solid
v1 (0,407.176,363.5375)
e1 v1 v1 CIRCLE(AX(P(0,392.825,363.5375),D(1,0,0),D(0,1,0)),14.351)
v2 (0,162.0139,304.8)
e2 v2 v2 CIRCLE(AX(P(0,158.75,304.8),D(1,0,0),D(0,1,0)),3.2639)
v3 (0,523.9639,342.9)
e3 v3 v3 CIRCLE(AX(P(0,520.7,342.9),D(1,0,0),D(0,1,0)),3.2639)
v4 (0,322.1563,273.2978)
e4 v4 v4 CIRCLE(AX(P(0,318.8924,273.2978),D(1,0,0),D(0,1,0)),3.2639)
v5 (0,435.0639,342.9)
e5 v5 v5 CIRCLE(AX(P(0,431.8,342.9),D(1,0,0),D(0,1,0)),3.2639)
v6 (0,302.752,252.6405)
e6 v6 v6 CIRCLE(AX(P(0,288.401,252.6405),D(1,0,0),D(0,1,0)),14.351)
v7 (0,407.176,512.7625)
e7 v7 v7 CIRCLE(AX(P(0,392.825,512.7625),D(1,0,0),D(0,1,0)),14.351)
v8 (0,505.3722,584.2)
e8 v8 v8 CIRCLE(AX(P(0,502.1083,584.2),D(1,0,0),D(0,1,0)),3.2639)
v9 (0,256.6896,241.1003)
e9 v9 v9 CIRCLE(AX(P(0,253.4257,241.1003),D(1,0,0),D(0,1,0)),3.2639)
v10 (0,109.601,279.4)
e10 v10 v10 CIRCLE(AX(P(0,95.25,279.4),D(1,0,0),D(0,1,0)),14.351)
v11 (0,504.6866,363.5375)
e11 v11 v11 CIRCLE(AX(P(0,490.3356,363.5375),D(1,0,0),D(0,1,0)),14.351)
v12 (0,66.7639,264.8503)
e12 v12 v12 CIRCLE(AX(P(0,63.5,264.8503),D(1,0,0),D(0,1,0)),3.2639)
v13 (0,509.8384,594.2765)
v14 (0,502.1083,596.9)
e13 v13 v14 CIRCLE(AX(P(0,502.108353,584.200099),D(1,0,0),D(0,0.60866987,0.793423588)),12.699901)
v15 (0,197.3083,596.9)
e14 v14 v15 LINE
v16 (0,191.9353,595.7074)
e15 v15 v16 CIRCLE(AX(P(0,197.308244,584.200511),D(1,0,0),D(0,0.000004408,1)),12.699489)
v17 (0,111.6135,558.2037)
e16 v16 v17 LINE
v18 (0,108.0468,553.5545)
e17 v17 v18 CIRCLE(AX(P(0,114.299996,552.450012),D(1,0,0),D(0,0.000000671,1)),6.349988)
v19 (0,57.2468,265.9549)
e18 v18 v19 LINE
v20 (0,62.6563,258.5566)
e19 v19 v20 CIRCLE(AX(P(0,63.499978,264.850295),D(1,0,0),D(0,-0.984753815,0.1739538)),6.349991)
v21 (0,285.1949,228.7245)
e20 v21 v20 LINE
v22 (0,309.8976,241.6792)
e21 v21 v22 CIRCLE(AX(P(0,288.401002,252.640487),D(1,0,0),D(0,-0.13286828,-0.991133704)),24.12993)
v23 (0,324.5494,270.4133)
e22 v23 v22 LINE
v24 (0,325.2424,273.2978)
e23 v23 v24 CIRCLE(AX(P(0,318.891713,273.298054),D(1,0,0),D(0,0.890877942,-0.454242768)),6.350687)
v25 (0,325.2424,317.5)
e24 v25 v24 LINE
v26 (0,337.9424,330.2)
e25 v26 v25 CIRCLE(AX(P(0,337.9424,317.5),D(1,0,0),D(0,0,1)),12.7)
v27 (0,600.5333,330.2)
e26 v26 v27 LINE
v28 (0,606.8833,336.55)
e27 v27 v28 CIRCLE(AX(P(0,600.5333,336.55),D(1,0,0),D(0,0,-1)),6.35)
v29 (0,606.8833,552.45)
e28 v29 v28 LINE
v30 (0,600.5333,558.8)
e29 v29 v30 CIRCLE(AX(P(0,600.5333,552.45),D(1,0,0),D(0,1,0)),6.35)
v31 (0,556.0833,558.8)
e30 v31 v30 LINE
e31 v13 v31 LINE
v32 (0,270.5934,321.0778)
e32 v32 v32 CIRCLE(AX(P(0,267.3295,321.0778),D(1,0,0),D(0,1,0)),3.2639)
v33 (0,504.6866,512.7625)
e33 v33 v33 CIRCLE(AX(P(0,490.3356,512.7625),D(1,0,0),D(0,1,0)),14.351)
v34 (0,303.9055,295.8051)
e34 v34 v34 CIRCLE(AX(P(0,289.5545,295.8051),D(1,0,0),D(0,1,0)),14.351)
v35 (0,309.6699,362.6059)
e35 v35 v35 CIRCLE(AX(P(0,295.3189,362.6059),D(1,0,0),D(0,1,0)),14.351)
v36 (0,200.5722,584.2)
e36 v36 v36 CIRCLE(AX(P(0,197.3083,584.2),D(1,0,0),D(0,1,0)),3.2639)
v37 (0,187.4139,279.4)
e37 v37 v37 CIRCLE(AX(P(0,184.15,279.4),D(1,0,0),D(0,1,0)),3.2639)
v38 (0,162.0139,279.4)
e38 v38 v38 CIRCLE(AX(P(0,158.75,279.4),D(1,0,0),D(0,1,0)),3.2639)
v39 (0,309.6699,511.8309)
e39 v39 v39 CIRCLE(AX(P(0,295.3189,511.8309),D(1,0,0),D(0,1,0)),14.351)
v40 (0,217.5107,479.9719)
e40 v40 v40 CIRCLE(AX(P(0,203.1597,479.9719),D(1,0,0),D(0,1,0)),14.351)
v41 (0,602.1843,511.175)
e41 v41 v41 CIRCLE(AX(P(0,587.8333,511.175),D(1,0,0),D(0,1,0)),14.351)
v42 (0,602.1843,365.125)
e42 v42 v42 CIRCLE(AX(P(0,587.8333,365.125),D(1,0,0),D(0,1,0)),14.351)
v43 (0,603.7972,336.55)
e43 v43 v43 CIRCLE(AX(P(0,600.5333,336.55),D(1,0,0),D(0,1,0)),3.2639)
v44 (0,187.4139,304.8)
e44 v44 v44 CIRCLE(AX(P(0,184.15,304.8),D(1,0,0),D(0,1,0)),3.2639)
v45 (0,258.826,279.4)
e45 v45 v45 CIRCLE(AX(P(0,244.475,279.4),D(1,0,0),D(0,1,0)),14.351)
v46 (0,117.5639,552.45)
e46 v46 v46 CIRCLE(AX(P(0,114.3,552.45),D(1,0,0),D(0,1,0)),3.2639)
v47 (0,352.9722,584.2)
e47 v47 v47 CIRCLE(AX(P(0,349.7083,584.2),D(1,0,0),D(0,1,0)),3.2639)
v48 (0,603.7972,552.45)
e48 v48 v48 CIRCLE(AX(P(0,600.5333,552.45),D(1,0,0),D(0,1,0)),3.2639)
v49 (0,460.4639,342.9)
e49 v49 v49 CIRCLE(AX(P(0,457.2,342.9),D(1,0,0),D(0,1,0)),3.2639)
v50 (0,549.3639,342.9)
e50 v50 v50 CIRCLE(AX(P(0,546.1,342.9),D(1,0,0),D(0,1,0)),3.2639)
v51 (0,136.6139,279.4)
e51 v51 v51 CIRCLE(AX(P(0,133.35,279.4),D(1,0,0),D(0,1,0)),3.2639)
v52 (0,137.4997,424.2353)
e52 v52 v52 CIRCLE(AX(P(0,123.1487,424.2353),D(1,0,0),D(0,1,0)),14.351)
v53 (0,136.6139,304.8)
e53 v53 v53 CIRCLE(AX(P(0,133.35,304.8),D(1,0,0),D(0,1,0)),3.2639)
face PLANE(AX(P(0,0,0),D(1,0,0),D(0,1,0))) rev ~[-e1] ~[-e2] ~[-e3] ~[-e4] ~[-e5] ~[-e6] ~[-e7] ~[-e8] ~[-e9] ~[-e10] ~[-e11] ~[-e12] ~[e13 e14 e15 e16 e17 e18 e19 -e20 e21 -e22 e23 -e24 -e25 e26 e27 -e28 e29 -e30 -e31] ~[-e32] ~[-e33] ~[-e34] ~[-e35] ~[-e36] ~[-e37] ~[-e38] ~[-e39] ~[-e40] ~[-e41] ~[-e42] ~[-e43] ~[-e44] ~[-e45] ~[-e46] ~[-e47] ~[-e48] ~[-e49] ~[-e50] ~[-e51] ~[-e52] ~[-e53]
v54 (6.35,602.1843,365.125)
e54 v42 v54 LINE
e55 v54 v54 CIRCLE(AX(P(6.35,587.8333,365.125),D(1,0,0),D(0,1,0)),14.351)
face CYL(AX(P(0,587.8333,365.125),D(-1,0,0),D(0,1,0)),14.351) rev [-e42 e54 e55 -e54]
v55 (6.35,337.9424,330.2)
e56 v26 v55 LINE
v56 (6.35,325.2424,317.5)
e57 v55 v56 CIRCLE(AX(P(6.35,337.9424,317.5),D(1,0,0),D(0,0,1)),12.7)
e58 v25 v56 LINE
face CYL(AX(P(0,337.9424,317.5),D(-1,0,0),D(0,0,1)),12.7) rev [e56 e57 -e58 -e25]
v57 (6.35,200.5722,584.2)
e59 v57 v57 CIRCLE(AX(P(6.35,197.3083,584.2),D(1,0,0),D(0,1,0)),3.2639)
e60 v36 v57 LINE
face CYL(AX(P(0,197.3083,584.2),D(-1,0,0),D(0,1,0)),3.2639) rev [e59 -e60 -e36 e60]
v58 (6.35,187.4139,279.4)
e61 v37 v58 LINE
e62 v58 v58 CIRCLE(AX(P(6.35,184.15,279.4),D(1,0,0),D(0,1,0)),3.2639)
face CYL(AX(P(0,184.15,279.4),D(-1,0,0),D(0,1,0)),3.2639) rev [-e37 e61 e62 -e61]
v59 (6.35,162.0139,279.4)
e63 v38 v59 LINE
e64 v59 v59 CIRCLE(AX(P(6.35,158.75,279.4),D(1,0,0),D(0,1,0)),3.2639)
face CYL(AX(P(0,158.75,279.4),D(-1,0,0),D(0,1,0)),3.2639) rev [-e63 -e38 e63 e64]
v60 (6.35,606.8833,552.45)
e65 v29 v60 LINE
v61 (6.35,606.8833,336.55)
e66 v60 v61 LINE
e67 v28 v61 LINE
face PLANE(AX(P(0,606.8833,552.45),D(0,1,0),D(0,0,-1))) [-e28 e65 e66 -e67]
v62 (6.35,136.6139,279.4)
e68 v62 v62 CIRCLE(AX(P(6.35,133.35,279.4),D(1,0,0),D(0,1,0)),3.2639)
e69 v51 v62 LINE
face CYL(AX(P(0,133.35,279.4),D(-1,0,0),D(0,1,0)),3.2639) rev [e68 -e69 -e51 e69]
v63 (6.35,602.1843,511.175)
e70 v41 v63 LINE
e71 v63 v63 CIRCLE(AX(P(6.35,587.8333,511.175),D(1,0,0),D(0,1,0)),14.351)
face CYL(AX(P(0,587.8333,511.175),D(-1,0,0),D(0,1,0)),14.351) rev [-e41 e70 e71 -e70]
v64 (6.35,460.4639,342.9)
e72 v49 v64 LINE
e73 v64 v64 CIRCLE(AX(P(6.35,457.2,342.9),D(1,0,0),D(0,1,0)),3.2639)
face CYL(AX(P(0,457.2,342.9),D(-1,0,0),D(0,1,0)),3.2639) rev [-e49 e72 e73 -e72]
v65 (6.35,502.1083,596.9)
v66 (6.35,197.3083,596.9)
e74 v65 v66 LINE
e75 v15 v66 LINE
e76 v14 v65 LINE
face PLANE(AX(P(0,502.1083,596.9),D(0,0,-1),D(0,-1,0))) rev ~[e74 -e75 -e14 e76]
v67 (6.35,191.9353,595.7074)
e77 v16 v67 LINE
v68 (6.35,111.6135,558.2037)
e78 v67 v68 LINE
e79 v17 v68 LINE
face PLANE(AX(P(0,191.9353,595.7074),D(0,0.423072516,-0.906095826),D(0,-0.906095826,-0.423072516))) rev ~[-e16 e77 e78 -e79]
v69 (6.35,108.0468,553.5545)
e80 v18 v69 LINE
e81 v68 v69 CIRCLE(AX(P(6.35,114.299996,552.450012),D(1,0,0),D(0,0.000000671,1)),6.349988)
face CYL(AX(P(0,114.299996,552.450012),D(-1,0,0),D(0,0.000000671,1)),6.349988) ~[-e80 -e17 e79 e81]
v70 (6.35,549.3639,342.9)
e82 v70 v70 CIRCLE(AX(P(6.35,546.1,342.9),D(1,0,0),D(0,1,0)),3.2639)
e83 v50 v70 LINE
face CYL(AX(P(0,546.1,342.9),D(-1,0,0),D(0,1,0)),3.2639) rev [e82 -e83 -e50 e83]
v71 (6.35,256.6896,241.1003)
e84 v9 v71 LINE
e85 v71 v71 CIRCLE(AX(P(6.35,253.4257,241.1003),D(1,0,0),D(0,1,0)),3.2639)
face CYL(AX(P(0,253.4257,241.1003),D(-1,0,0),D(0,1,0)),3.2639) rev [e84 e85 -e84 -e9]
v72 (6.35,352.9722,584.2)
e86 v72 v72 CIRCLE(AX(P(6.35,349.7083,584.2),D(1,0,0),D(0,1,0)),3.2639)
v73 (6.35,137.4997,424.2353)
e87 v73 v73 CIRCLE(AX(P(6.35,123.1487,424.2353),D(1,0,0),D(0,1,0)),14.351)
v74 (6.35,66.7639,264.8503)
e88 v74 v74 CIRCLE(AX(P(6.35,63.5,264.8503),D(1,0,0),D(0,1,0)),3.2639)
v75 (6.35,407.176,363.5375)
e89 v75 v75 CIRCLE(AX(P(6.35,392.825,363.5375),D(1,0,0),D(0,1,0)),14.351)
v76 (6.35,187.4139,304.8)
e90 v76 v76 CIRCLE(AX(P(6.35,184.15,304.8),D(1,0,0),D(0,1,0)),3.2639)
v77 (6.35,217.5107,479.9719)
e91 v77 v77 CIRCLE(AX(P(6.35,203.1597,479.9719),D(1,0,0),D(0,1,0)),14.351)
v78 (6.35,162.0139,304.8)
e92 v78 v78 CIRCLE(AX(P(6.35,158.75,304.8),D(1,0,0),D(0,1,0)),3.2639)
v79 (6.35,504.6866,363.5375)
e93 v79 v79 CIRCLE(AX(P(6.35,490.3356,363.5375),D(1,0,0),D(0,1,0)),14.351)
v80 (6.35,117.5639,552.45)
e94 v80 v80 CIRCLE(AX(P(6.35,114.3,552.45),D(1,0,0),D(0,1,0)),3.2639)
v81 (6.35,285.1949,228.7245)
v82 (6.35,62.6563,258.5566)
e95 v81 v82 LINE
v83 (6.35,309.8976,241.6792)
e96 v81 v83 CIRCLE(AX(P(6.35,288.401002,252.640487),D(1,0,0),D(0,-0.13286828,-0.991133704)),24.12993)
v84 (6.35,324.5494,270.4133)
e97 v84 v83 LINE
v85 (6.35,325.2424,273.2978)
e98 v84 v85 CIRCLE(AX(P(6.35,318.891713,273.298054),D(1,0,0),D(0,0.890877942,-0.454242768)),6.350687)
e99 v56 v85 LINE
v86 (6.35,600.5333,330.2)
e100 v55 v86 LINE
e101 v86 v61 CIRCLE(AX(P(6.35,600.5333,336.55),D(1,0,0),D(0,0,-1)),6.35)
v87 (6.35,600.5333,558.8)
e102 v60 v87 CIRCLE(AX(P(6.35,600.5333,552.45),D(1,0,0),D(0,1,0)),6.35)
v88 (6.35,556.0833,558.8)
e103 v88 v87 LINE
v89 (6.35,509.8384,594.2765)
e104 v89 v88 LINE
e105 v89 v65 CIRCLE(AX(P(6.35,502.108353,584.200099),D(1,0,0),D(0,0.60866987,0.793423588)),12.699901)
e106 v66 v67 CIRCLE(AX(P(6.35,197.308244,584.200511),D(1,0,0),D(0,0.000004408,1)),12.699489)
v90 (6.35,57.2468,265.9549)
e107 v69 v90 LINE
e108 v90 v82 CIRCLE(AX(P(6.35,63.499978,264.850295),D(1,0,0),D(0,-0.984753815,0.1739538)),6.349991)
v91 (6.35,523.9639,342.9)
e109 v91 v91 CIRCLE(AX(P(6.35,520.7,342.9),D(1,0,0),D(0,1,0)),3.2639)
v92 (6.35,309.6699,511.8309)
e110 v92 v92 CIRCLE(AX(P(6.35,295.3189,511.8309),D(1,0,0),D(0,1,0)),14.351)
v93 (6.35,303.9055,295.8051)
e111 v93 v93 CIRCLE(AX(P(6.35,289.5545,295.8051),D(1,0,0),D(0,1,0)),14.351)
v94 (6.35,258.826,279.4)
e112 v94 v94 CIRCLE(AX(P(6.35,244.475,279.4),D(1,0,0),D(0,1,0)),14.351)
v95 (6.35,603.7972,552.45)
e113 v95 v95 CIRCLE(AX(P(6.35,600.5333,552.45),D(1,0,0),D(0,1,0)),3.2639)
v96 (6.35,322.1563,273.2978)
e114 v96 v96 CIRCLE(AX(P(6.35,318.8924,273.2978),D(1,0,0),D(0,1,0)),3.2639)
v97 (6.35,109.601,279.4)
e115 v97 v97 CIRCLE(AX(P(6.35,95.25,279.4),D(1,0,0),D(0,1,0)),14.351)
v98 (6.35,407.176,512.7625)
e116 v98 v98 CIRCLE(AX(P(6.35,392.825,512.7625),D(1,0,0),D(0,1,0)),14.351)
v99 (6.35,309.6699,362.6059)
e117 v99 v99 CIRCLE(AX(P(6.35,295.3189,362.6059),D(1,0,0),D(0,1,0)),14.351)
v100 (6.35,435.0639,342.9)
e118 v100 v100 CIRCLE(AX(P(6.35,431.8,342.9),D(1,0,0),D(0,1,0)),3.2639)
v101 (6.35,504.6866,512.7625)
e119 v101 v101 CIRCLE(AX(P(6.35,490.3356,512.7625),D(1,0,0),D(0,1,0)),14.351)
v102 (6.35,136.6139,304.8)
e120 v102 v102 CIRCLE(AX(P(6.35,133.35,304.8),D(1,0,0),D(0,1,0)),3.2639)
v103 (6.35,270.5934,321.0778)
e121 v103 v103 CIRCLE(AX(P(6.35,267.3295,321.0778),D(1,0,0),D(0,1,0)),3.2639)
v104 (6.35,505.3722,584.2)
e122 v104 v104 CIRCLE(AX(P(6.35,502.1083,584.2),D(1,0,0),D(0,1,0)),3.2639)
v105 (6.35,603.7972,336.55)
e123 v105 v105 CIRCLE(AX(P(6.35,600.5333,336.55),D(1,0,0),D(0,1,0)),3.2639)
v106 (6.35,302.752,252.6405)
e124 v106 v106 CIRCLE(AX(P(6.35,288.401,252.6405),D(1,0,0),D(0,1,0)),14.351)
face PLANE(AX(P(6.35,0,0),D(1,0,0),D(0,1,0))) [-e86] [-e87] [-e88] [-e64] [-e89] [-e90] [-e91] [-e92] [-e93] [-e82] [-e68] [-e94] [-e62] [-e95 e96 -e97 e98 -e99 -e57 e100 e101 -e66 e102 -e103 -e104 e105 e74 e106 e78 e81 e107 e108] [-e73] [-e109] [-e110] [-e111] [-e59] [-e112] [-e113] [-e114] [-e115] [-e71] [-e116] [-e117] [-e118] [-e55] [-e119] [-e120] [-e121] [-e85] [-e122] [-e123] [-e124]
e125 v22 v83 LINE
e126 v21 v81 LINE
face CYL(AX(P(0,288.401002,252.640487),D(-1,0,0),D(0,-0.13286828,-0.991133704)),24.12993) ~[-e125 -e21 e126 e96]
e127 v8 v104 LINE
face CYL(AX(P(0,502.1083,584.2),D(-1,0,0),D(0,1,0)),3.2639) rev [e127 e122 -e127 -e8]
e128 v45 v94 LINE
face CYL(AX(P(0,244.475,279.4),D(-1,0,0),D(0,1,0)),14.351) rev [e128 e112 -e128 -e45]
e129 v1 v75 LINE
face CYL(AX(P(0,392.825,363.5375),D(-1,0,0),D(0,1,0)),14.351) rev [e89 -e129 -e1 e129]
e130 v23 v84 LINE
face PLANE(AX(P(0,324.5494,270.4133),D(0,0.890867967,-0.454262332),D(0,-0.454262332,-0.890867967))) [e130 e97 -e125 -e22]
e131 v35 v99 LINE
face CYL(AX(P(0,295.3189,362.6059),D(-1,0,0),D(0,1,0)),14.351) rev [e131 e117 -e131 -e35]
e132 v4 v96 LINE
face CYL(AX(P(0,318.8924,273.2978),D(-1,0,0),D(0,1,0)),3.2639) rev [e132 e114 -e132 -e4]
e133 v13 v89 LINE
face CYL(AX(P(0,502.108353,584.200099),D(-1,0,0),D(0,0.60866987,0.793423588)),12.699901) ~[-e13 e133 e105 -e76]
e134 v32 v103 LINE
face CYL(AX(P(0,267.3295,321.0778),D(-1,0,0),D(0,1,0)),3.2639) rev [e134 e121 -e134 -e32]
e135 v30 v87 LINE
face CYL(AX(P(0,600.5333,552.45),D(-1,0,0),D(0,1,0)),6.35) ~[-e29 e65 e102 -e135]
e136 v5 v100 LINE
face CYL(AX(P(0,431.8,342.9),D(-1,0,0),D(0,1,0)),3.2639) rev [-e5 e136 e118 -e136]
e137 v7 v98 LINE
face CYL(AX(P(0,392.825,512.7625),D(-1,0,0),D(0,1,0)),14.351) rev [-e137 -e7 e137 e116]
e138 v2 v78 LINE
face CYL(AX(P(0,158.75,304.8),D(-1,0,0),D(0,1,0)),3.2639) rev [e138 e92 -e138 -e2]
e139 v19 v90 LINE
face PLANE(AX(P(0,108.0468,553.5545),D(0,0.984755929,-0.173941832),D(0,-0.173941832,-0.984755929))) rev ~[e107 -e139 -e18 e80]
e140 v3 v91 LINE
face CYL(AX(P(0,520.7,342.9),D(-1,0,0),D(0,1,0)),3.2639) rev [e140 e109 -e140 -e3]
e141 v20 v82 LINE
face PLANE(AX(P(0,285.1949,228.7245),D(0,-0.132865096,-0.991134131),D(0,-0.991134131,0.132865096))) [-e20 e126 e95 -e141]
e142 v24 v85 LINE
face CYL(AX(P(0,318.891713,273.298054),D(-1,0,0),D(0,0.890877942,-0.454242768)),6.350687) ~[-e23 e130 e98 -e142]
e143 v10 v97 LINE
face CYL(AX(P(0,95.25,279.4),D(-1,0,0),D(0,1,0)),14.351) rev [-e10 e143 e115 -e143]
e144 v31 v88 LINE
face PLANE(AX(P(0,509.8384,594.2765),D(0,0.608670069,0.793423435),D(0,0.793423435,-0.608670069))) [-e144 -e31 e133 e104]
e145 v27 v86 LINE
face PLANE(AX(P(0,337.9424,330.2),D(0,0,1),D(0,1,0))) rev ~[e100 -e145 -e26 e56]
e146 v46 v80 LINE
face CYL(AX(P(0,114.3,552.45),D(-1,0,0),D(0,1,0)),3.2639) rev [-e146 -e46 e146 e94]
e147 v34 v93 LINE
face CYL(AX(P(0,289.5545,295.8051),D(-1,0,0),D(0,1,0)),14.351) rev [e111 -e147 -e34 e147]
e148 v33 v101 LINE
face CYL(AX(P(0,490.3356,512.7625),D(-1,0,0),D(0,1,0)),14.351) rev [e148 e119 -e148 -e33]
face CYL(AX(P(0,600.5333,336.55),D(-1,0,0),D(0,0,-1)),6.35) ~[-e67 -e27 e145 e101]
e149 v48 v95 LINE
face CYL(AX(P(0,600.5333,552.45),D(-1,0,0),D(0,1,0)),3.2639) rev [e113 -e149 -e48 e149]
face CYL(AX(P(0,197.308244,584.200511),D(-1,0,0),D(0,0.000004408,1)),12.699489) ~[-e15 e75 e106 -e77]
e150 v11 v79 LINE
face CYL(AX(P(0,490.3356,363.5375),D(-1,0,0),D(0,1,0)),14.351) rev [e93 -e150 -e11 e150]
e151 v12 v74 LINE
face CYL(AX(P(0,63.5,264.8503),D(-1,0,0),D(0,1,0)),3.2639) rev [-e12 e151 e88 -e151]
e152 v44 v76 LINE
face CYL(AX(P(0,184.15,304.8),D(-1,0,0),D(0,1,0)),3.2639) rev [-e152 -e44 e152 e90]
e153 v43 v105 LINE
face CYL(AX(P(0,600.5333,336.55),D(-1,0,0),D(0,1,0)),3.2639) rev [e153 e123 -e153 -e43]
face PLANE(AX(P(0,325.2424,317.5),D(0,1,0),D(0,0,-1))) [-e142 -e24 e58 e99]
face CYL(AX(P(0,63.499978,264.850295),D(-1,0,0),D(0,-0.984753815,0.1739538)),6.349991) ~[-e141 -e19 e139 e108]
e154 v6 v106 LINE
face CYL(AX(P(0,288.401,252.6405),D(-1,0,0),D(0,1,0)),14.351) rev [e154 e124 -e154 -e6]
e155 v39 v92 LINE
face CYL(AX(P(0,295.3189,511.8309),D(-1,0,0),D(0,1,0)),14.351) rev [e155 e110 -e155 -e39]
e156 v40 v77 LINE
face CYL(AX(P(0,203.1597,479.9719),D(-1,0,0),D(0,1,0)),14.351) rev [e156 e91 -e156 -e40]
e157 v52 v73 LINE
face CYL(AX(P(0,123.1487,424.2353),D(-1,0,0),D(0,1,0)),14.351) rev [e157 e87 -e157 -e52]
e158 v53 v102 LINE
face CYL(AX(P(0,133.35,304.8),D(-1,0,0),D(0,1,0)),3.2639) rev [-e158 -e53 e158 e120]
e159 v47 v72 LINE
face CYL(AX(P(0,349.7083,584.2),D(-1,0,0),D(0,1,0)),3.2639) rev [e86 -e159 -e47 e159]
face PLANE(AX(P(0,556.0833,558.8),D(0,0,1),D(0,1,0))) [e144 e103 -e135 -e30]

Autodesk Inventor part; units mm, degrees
ref_plane "YZ Plane" through (0, 0, 0) normal (1, 0, 0) x (0, 1, 0)
ref_plane "XZ Plane" through (0, 0, 0) normal (0, 1, 0) x (-1, 0, 0)
ref_plane "XY Plane" through (0, 0, 0) normal (0, 0, 1) x (1, 0, 0)
sketch "Sketch1" plane through (0, 0, 0) normal (1, 0, 0) x (0, 1, 0)
  line L0 (95.25, 812.8) -> (44.45, 812.8) construction
  line L1 (44.45, 812.8) -> (44.45, 0) construction
  line L2 (44.45, 0) -> (95.25, 0) construction
  line L3 (95.25, 0) -> (95.25, 812.8) construction
  line L4 (95.25, 0) -> (44.45, 0) construction
  line L5 (44.45, 25.4) -> (95.25, 25.4) construction
  circle A0 centre (190.5, 0) radius 50.8 construction
  circle A1 centre (95.25, 279.4) radius 25.4 construction
  circle A2 centre (274.9493, 279.9916) radius 9.525 construction
  circle A3 centre (274.9493, 279.9916) radius 25.4 construction
  circle A4 centre (274.9493, 279.9916) radius 31.75 construction
  circle A5 centre (609.6, 438.15) radius 50.8 construction
  circle A6 centre (274.9493, 279.9916) radius 30.48 construction
  circle A7 centre (587.8333, 365.125) radius 25.4 construction
  circle A8 centre (587.8333, 511.175) radius 25.4 construction
  line L6 (587.8333, 485.775) -> (587.8333, 390.525) construction
  circle A9 centre (490.3356, 512.7625) radius 14.351
  circle A10 centre (392.825, 512.7625) radius 14.351
  circle A11 centre (490.3356, 363.5375) radius 14.351
  line L7 (587.8333, 511.175) -> (490.3356, 512.7625) construction
  line L8 (587.8333, 365.125) -> (490.3356, 363.5375) construction
  circle A12 centre (490.3356, 512.7625) radius 25.4 construction
  circle A13 centre (490.3356, 363.5375) radius 25.4 construction
  line L9 (490.3356, 487.3625) -> (490.3356, 388.9375) construction
  circle A14 centre (392.825, 512.7625) radius 25.4 construction
  circle A15 centre (392.825, 363.5375) radius 25.4 construction
  circle A16 centre (392.825, 363.5375) radius 14.351
  line L10 (490.3356, 512.7625) -> (392.825, 512.7625) construction
  line L11 (490.3356, 363.5375) -> (392.825, 363.5375) construction
  line L12 (392.825, 487.3625) -> (392.825, 388.9375) construction
  circle A17 centre (295.3189, 511.8309) radius 25.4 construction
  circle A18 centre (295.3189, 362.6059) radius 25.4 construction
  circle A19 centre (203.1597, 479.9719) radius 25.4 construction
  circle A20 centre (295.3189, 511.8309) radius 14.351
  circle A21 centre (295.3189, 362.6059) radius 14.351
  circle A22 centre (203.1597, 479.9719) radius 14.351
  line L13 (392.825, 512.7625) -> (295.3189, 511.8309) construction
  line L14 (392.825, 363.5375) -> (295.3189, 362.6059) construction
  line L15 (295.3189, 486.4309) -> (295.3189, 388.0059) construction
  line L16 (295.3189, 511.8309) -> (203.1597, 479.9719) construction
  circle A23 centre (123.1487, 424.2353) radius 25.4 construction
  circle A24 centre (123.1487, 424.2353) radius 14.351
  line L17 (203.1597, 479.9719) -> (123.1487, 424.2353) construction
  circle A25 centre (95.25, 279.4) radius 14.351
  line L18 (609.6, 355.6) -> (44.45, 355.6) construction
  line L19 (44.45, 355.6) -> (44.45, 330.2) construction
  line L20 (44.45, 330.2) -> (609.6, 330.2) construction
  line L21 (609.6, 330.2) -> (609.6, 355.6) construction
  line L22 (95.25, 241.3) -> (44.45, 241.3) construction
  line L23 (44.45, 241.3) -> (44.45, 215.9) construction
  line L24 (44.45, 215.9) -> (95.25, 215.9) construction
  line L25 (95.25, 215.9) -> (95.25, 241.3) construction
  circle A26 centre (244.475, 279.4) radius 25.4 construction
  circle A27 centre (244.475, 279.4) radius 14.351
  line L26 (218.8463, 459.9947) -> (279.6322, 382.5831) construction
  circle A28 centre (274.9493, 279.9916) radius 8.89 construction
  circle A29 centre (288.401, 252.6405) radius 21.59 construction
  circle A30 centre (244.475, 279.4) radius 21.59 construction
  circle A31 centre (288.401, 252.6405) radius 14.351
  circle A32 centre (587.8333, 511.175) radius 14.351
  circle A33 centre (587.8333, 365.125) radius 14.351
  line L27 (95.25, 647.7) -> (609.6, 647.7) construction
  line L28 (609.6, 647.7) -> (609.6, 622.3) construction
  line L29 (609.6, 622.3) -> (95.25, 622.3) construction
  line L30 (95.25, 622.3) -> (95.25, 647.7) construction
  circle A34 centre (600.5333, 552.45) radius 3.2639
  circle A35 centre (600.5333, 552.45) radius 6.35 construction
  circle A36 centre (600.5333, 336.55) radius 3.2639
  circle A37 centre (600.5333, 336.55) radius 6.35 construction
  circle A38 centre (114.3, 552.45) radius 3.2639
  circle A39 centre (114.3, 552.45) radius 6.35 construction
  line L31 (595.3031, 535.4518) -> (598.6659, 546.3808) construction
  circle A40 centre (63.5, 264.8503) radius 3.2639
  circle A41 centre (63.5, 264.8503) radius 6.35 construction
  line L32 (337.9424, 330.2) -> (600.5333, 330.2)
  circle A42 centre (288.401, 252.6405) radius 24.13 construction
  circle A43 centre (244.475, 279.4) radius 24.13 construction
  line L33 (72.1591, 268.8184) -> (69.2727, 267.4957) construction
  line L34 (609.6, 342.9) -> (44.45, 342.9) construction
  line L35 (265.0822, 266.8462) -> (267.7937, 265.1944) construction
  circle A44 centre (318.8924, 273.2978) radius 3.2639
  circle A45 centre (253.4257, 241.1003) radius 3.2639
  line L36 (95.25, 558.8) -> (44.45, 558.8) construction
  line L37 (44.45, 558.8) -> (44.45, 533.4) construction
  line L38 (44.45, 533.4) -> (95.25, 533.4) construction
  line L39 (95.25, 533.4) -> (95.25, 558.8) construction
  line L40 (114.3, 558.8) -> (600.5333, 558.8)
  line L41 (108.0468, 553.5545) -> (57.2468, 265.9549)
  line L42 (285.1949, 228.7245) -> (62.6563, 258.5566)
  circle A46 centre (318.8924, 273.2978) radius 6.35 construction
  circle A47 centre (253.4257, 241.1003) radius 6.35 construction
  arc A48 (114.3, 558.8) -> (108.0468, 553.5545) centre (114.3, 552.45) ccw
  arc A49 (57.2468, 265.9549) -> (62.6563, 258.5566) centre (63.5, 264.8503) ccw
  line L43 (312.6148, 274.2541) -> (306.3372, 275.2103) construction
  line L44 (313.6352, 269.7362) -> (308.3781, 266.1746) construction
  line L45 (259.4559, 243.09) -> (265.4861, 245.0797) construction
  line L46 (256.5005, 246.6562) -> (259.5753, 252.2121) construction
  line L47 (325.2424, 317.5) -> (325.2424, 273.2978)
  arc A50 (337.9424, 330.2) -> (325.2424, 317.5) centre (337.9424, 317.5) ccw
  line L48 (324.5494, 270.4133) -> (309.8976, 241.6792)
  arc A51 (324.5494, 270.4133) -> (325.2424, 273.2978) centre (318.8924, 273.2978) ccw
  arc A52 (285.1949, 228.7245) -> (309.8976, 241.6792) centre (288.401, 252.6405) ccw
  circle A53 centre (431.8, 342.9) radius 3.2639
  circle A54 centre (457.2, 342.9) radius 3.2639
  circle A55 centre (520.7, 342.9) radius 3.2639
  circle A56 centre (546.1, 342.9) radius 3.2639
  line L49 (606.8833, 552.45) -> (606.8833, 336.55)
  arc A57 (606.8833, 552.45) -> (600.5333, 558.8) centre (600.5333, 552.45) ccw
  arc A58 (600.5333, 330.2) -> (606.8833, 336.55) centre (600.5333, 336.55) ccw
  circle A59 centre (184.15, 304.8) radius 3.2639
  circle A60 centre (158.75, 304.8) radius 3.2639
  circle A61 centre (133.35, 304.8) radius 3.2639
  circle A62 centre (133.35, 279.4) radius 3.2639
  circle A63 centre (158.75, 279.4) radius 3.2639
  circle A64 centre (184.15, 279.4) radius 3.2639
  circle A65 centre (289.5545, 295.8051) radius 21.59 construction
  line L50 (313.8542, 277.163) -> (306.6842, 282.6636) construction
  circle A66 centre (289.5545, 295.8051) radius 14.351
  circle A67 centre (267.3295, 321.0778) radius 3.2639
  circle A68 centre (267.3295, 321.0778) radius 6.35 construction
  circle A69 centre (289.5545, 295.8051) radius 24.13 construction
  line L51 (271.5229, 316.3094) -> (273.6196, 313.9252) construction
  circle A70 centre (502.1083, 584.2) radius 3.2639
  circle A71 centre (349.7083, 584.2) radius 3.2639
  circle A72 centre (197.3083, 584.2) radius 3.2639
  circle A73 centre (502.1083, 584.2) radius 12.7 construction
  circle A74 centre (197.3083, 584.2) radius 12.7 construction
  line L52 (509.8384, 594.2765) -> (556.0833, 558.8)
  line L53 (502.1083, 596.9) -> (197.3083, 596.9)
  line L54 (191.9353, 595.7074) -> (111.6135, 558.2037)
  arc A75 (509.8384, 594.2765) -> (502.1083, 596.9) centre (502.1083, 584.2) ccw
  arc A76 (197.3083, 596.9) -> (191.9353, 595.7074) centre (197.3083, 584.2) ccw
  point P0 (0, 0)
  point P1 (241.139, 234.6303)
  point P2 (100.4185, 253.4945)
  dimension "d9" = 50.8
  dimension "d38" = 50.8
  dimension "d53" = 50.8
  dimension "d178" = 43.18
  dimension "d183" = 2.54
  dimension "d1" = 812.8
  dimension "d2" = 44.45
  dimension "d4" = 25.4
  dimension "d5" = 101.6
  dimension "d6" = 95.25
  dimension "d8" = 50.8
  dimension "d14" = 50.8
  dimension "d15" = 63.5
  dimension "d21" = 19.05
  dimension "d29" = 438.15
  dimension "d30" = 514.35
  dimension "d36" = 60.96
  dimension "d39" = 50.8
  dimension "d41" = 95.25
  dimension "d45" = 28.702
  dimension "d47" = 97.5106
  dimension "d48" = 98.425
  dimension "d56" = 25.4
  dimension "d73" = 50.8
  dimension "d74" = 25.4
  dimension "d75" = 215.9
  dimension "d78" = 279.4
  dimension "d80" = 149.225
  dimension "d81" = 97.5106
  dimension "d82" = 147.4978
  dimension "d83" = 17.78
  dimension "d85" = 43.18
  dimension "d92" = 330.2
  dimension "d100" = 514.35
  dimension "d107" = 25.4
  dimension "d108" = 514.35
  dimension "d109" = 266.7
  dimension "d115" = 6.5278
  dimension "d116" = 12.7
  dimension "d122" = 2.54
  dimension "d123" = 2.54
  dimension "d128" = 3.175
  dimension "d134" = 3.175
  dimension "d135" = 194.9958
  dimension "d136" = 6.5278
  dimension "d137" = 25.4
  dimension "d138" = 533.4
  dimension "d139" = 19.05
  dimension "d140" = 19.05
  dimension "d141" = 12.7
  dimension "d142" = 6.35
  dimension "d143" = 12.7
  dimension "d144" = 43.18
  dimension "d149" = 25.4
  dimension "d151" = 6.5278
  dimension "d157" = 25.4
  dimension "d158" = 63.5
  dimension "d159" = 12.7
  dimension "d161" = 11.4347
  dimension "d163" = 44.45
  dimension "d164" = 38.1
  dimension "d166" = 336.55
  dimension "d167" = 25.4
  dimension "d168" = 6.5278
  dimension "d169" = 25.4
  dimension "d170" = 25.4
  dimension "d173" = 25.4
  dimension "d174" = 38.1
  dimension "d175" = 25.4
extrude "Extrusion2" add sketch "Sketch1" along normal blind 6.35
properties part number "INDX_011_SecondPlate" material "Polycarbonate, Clear"
